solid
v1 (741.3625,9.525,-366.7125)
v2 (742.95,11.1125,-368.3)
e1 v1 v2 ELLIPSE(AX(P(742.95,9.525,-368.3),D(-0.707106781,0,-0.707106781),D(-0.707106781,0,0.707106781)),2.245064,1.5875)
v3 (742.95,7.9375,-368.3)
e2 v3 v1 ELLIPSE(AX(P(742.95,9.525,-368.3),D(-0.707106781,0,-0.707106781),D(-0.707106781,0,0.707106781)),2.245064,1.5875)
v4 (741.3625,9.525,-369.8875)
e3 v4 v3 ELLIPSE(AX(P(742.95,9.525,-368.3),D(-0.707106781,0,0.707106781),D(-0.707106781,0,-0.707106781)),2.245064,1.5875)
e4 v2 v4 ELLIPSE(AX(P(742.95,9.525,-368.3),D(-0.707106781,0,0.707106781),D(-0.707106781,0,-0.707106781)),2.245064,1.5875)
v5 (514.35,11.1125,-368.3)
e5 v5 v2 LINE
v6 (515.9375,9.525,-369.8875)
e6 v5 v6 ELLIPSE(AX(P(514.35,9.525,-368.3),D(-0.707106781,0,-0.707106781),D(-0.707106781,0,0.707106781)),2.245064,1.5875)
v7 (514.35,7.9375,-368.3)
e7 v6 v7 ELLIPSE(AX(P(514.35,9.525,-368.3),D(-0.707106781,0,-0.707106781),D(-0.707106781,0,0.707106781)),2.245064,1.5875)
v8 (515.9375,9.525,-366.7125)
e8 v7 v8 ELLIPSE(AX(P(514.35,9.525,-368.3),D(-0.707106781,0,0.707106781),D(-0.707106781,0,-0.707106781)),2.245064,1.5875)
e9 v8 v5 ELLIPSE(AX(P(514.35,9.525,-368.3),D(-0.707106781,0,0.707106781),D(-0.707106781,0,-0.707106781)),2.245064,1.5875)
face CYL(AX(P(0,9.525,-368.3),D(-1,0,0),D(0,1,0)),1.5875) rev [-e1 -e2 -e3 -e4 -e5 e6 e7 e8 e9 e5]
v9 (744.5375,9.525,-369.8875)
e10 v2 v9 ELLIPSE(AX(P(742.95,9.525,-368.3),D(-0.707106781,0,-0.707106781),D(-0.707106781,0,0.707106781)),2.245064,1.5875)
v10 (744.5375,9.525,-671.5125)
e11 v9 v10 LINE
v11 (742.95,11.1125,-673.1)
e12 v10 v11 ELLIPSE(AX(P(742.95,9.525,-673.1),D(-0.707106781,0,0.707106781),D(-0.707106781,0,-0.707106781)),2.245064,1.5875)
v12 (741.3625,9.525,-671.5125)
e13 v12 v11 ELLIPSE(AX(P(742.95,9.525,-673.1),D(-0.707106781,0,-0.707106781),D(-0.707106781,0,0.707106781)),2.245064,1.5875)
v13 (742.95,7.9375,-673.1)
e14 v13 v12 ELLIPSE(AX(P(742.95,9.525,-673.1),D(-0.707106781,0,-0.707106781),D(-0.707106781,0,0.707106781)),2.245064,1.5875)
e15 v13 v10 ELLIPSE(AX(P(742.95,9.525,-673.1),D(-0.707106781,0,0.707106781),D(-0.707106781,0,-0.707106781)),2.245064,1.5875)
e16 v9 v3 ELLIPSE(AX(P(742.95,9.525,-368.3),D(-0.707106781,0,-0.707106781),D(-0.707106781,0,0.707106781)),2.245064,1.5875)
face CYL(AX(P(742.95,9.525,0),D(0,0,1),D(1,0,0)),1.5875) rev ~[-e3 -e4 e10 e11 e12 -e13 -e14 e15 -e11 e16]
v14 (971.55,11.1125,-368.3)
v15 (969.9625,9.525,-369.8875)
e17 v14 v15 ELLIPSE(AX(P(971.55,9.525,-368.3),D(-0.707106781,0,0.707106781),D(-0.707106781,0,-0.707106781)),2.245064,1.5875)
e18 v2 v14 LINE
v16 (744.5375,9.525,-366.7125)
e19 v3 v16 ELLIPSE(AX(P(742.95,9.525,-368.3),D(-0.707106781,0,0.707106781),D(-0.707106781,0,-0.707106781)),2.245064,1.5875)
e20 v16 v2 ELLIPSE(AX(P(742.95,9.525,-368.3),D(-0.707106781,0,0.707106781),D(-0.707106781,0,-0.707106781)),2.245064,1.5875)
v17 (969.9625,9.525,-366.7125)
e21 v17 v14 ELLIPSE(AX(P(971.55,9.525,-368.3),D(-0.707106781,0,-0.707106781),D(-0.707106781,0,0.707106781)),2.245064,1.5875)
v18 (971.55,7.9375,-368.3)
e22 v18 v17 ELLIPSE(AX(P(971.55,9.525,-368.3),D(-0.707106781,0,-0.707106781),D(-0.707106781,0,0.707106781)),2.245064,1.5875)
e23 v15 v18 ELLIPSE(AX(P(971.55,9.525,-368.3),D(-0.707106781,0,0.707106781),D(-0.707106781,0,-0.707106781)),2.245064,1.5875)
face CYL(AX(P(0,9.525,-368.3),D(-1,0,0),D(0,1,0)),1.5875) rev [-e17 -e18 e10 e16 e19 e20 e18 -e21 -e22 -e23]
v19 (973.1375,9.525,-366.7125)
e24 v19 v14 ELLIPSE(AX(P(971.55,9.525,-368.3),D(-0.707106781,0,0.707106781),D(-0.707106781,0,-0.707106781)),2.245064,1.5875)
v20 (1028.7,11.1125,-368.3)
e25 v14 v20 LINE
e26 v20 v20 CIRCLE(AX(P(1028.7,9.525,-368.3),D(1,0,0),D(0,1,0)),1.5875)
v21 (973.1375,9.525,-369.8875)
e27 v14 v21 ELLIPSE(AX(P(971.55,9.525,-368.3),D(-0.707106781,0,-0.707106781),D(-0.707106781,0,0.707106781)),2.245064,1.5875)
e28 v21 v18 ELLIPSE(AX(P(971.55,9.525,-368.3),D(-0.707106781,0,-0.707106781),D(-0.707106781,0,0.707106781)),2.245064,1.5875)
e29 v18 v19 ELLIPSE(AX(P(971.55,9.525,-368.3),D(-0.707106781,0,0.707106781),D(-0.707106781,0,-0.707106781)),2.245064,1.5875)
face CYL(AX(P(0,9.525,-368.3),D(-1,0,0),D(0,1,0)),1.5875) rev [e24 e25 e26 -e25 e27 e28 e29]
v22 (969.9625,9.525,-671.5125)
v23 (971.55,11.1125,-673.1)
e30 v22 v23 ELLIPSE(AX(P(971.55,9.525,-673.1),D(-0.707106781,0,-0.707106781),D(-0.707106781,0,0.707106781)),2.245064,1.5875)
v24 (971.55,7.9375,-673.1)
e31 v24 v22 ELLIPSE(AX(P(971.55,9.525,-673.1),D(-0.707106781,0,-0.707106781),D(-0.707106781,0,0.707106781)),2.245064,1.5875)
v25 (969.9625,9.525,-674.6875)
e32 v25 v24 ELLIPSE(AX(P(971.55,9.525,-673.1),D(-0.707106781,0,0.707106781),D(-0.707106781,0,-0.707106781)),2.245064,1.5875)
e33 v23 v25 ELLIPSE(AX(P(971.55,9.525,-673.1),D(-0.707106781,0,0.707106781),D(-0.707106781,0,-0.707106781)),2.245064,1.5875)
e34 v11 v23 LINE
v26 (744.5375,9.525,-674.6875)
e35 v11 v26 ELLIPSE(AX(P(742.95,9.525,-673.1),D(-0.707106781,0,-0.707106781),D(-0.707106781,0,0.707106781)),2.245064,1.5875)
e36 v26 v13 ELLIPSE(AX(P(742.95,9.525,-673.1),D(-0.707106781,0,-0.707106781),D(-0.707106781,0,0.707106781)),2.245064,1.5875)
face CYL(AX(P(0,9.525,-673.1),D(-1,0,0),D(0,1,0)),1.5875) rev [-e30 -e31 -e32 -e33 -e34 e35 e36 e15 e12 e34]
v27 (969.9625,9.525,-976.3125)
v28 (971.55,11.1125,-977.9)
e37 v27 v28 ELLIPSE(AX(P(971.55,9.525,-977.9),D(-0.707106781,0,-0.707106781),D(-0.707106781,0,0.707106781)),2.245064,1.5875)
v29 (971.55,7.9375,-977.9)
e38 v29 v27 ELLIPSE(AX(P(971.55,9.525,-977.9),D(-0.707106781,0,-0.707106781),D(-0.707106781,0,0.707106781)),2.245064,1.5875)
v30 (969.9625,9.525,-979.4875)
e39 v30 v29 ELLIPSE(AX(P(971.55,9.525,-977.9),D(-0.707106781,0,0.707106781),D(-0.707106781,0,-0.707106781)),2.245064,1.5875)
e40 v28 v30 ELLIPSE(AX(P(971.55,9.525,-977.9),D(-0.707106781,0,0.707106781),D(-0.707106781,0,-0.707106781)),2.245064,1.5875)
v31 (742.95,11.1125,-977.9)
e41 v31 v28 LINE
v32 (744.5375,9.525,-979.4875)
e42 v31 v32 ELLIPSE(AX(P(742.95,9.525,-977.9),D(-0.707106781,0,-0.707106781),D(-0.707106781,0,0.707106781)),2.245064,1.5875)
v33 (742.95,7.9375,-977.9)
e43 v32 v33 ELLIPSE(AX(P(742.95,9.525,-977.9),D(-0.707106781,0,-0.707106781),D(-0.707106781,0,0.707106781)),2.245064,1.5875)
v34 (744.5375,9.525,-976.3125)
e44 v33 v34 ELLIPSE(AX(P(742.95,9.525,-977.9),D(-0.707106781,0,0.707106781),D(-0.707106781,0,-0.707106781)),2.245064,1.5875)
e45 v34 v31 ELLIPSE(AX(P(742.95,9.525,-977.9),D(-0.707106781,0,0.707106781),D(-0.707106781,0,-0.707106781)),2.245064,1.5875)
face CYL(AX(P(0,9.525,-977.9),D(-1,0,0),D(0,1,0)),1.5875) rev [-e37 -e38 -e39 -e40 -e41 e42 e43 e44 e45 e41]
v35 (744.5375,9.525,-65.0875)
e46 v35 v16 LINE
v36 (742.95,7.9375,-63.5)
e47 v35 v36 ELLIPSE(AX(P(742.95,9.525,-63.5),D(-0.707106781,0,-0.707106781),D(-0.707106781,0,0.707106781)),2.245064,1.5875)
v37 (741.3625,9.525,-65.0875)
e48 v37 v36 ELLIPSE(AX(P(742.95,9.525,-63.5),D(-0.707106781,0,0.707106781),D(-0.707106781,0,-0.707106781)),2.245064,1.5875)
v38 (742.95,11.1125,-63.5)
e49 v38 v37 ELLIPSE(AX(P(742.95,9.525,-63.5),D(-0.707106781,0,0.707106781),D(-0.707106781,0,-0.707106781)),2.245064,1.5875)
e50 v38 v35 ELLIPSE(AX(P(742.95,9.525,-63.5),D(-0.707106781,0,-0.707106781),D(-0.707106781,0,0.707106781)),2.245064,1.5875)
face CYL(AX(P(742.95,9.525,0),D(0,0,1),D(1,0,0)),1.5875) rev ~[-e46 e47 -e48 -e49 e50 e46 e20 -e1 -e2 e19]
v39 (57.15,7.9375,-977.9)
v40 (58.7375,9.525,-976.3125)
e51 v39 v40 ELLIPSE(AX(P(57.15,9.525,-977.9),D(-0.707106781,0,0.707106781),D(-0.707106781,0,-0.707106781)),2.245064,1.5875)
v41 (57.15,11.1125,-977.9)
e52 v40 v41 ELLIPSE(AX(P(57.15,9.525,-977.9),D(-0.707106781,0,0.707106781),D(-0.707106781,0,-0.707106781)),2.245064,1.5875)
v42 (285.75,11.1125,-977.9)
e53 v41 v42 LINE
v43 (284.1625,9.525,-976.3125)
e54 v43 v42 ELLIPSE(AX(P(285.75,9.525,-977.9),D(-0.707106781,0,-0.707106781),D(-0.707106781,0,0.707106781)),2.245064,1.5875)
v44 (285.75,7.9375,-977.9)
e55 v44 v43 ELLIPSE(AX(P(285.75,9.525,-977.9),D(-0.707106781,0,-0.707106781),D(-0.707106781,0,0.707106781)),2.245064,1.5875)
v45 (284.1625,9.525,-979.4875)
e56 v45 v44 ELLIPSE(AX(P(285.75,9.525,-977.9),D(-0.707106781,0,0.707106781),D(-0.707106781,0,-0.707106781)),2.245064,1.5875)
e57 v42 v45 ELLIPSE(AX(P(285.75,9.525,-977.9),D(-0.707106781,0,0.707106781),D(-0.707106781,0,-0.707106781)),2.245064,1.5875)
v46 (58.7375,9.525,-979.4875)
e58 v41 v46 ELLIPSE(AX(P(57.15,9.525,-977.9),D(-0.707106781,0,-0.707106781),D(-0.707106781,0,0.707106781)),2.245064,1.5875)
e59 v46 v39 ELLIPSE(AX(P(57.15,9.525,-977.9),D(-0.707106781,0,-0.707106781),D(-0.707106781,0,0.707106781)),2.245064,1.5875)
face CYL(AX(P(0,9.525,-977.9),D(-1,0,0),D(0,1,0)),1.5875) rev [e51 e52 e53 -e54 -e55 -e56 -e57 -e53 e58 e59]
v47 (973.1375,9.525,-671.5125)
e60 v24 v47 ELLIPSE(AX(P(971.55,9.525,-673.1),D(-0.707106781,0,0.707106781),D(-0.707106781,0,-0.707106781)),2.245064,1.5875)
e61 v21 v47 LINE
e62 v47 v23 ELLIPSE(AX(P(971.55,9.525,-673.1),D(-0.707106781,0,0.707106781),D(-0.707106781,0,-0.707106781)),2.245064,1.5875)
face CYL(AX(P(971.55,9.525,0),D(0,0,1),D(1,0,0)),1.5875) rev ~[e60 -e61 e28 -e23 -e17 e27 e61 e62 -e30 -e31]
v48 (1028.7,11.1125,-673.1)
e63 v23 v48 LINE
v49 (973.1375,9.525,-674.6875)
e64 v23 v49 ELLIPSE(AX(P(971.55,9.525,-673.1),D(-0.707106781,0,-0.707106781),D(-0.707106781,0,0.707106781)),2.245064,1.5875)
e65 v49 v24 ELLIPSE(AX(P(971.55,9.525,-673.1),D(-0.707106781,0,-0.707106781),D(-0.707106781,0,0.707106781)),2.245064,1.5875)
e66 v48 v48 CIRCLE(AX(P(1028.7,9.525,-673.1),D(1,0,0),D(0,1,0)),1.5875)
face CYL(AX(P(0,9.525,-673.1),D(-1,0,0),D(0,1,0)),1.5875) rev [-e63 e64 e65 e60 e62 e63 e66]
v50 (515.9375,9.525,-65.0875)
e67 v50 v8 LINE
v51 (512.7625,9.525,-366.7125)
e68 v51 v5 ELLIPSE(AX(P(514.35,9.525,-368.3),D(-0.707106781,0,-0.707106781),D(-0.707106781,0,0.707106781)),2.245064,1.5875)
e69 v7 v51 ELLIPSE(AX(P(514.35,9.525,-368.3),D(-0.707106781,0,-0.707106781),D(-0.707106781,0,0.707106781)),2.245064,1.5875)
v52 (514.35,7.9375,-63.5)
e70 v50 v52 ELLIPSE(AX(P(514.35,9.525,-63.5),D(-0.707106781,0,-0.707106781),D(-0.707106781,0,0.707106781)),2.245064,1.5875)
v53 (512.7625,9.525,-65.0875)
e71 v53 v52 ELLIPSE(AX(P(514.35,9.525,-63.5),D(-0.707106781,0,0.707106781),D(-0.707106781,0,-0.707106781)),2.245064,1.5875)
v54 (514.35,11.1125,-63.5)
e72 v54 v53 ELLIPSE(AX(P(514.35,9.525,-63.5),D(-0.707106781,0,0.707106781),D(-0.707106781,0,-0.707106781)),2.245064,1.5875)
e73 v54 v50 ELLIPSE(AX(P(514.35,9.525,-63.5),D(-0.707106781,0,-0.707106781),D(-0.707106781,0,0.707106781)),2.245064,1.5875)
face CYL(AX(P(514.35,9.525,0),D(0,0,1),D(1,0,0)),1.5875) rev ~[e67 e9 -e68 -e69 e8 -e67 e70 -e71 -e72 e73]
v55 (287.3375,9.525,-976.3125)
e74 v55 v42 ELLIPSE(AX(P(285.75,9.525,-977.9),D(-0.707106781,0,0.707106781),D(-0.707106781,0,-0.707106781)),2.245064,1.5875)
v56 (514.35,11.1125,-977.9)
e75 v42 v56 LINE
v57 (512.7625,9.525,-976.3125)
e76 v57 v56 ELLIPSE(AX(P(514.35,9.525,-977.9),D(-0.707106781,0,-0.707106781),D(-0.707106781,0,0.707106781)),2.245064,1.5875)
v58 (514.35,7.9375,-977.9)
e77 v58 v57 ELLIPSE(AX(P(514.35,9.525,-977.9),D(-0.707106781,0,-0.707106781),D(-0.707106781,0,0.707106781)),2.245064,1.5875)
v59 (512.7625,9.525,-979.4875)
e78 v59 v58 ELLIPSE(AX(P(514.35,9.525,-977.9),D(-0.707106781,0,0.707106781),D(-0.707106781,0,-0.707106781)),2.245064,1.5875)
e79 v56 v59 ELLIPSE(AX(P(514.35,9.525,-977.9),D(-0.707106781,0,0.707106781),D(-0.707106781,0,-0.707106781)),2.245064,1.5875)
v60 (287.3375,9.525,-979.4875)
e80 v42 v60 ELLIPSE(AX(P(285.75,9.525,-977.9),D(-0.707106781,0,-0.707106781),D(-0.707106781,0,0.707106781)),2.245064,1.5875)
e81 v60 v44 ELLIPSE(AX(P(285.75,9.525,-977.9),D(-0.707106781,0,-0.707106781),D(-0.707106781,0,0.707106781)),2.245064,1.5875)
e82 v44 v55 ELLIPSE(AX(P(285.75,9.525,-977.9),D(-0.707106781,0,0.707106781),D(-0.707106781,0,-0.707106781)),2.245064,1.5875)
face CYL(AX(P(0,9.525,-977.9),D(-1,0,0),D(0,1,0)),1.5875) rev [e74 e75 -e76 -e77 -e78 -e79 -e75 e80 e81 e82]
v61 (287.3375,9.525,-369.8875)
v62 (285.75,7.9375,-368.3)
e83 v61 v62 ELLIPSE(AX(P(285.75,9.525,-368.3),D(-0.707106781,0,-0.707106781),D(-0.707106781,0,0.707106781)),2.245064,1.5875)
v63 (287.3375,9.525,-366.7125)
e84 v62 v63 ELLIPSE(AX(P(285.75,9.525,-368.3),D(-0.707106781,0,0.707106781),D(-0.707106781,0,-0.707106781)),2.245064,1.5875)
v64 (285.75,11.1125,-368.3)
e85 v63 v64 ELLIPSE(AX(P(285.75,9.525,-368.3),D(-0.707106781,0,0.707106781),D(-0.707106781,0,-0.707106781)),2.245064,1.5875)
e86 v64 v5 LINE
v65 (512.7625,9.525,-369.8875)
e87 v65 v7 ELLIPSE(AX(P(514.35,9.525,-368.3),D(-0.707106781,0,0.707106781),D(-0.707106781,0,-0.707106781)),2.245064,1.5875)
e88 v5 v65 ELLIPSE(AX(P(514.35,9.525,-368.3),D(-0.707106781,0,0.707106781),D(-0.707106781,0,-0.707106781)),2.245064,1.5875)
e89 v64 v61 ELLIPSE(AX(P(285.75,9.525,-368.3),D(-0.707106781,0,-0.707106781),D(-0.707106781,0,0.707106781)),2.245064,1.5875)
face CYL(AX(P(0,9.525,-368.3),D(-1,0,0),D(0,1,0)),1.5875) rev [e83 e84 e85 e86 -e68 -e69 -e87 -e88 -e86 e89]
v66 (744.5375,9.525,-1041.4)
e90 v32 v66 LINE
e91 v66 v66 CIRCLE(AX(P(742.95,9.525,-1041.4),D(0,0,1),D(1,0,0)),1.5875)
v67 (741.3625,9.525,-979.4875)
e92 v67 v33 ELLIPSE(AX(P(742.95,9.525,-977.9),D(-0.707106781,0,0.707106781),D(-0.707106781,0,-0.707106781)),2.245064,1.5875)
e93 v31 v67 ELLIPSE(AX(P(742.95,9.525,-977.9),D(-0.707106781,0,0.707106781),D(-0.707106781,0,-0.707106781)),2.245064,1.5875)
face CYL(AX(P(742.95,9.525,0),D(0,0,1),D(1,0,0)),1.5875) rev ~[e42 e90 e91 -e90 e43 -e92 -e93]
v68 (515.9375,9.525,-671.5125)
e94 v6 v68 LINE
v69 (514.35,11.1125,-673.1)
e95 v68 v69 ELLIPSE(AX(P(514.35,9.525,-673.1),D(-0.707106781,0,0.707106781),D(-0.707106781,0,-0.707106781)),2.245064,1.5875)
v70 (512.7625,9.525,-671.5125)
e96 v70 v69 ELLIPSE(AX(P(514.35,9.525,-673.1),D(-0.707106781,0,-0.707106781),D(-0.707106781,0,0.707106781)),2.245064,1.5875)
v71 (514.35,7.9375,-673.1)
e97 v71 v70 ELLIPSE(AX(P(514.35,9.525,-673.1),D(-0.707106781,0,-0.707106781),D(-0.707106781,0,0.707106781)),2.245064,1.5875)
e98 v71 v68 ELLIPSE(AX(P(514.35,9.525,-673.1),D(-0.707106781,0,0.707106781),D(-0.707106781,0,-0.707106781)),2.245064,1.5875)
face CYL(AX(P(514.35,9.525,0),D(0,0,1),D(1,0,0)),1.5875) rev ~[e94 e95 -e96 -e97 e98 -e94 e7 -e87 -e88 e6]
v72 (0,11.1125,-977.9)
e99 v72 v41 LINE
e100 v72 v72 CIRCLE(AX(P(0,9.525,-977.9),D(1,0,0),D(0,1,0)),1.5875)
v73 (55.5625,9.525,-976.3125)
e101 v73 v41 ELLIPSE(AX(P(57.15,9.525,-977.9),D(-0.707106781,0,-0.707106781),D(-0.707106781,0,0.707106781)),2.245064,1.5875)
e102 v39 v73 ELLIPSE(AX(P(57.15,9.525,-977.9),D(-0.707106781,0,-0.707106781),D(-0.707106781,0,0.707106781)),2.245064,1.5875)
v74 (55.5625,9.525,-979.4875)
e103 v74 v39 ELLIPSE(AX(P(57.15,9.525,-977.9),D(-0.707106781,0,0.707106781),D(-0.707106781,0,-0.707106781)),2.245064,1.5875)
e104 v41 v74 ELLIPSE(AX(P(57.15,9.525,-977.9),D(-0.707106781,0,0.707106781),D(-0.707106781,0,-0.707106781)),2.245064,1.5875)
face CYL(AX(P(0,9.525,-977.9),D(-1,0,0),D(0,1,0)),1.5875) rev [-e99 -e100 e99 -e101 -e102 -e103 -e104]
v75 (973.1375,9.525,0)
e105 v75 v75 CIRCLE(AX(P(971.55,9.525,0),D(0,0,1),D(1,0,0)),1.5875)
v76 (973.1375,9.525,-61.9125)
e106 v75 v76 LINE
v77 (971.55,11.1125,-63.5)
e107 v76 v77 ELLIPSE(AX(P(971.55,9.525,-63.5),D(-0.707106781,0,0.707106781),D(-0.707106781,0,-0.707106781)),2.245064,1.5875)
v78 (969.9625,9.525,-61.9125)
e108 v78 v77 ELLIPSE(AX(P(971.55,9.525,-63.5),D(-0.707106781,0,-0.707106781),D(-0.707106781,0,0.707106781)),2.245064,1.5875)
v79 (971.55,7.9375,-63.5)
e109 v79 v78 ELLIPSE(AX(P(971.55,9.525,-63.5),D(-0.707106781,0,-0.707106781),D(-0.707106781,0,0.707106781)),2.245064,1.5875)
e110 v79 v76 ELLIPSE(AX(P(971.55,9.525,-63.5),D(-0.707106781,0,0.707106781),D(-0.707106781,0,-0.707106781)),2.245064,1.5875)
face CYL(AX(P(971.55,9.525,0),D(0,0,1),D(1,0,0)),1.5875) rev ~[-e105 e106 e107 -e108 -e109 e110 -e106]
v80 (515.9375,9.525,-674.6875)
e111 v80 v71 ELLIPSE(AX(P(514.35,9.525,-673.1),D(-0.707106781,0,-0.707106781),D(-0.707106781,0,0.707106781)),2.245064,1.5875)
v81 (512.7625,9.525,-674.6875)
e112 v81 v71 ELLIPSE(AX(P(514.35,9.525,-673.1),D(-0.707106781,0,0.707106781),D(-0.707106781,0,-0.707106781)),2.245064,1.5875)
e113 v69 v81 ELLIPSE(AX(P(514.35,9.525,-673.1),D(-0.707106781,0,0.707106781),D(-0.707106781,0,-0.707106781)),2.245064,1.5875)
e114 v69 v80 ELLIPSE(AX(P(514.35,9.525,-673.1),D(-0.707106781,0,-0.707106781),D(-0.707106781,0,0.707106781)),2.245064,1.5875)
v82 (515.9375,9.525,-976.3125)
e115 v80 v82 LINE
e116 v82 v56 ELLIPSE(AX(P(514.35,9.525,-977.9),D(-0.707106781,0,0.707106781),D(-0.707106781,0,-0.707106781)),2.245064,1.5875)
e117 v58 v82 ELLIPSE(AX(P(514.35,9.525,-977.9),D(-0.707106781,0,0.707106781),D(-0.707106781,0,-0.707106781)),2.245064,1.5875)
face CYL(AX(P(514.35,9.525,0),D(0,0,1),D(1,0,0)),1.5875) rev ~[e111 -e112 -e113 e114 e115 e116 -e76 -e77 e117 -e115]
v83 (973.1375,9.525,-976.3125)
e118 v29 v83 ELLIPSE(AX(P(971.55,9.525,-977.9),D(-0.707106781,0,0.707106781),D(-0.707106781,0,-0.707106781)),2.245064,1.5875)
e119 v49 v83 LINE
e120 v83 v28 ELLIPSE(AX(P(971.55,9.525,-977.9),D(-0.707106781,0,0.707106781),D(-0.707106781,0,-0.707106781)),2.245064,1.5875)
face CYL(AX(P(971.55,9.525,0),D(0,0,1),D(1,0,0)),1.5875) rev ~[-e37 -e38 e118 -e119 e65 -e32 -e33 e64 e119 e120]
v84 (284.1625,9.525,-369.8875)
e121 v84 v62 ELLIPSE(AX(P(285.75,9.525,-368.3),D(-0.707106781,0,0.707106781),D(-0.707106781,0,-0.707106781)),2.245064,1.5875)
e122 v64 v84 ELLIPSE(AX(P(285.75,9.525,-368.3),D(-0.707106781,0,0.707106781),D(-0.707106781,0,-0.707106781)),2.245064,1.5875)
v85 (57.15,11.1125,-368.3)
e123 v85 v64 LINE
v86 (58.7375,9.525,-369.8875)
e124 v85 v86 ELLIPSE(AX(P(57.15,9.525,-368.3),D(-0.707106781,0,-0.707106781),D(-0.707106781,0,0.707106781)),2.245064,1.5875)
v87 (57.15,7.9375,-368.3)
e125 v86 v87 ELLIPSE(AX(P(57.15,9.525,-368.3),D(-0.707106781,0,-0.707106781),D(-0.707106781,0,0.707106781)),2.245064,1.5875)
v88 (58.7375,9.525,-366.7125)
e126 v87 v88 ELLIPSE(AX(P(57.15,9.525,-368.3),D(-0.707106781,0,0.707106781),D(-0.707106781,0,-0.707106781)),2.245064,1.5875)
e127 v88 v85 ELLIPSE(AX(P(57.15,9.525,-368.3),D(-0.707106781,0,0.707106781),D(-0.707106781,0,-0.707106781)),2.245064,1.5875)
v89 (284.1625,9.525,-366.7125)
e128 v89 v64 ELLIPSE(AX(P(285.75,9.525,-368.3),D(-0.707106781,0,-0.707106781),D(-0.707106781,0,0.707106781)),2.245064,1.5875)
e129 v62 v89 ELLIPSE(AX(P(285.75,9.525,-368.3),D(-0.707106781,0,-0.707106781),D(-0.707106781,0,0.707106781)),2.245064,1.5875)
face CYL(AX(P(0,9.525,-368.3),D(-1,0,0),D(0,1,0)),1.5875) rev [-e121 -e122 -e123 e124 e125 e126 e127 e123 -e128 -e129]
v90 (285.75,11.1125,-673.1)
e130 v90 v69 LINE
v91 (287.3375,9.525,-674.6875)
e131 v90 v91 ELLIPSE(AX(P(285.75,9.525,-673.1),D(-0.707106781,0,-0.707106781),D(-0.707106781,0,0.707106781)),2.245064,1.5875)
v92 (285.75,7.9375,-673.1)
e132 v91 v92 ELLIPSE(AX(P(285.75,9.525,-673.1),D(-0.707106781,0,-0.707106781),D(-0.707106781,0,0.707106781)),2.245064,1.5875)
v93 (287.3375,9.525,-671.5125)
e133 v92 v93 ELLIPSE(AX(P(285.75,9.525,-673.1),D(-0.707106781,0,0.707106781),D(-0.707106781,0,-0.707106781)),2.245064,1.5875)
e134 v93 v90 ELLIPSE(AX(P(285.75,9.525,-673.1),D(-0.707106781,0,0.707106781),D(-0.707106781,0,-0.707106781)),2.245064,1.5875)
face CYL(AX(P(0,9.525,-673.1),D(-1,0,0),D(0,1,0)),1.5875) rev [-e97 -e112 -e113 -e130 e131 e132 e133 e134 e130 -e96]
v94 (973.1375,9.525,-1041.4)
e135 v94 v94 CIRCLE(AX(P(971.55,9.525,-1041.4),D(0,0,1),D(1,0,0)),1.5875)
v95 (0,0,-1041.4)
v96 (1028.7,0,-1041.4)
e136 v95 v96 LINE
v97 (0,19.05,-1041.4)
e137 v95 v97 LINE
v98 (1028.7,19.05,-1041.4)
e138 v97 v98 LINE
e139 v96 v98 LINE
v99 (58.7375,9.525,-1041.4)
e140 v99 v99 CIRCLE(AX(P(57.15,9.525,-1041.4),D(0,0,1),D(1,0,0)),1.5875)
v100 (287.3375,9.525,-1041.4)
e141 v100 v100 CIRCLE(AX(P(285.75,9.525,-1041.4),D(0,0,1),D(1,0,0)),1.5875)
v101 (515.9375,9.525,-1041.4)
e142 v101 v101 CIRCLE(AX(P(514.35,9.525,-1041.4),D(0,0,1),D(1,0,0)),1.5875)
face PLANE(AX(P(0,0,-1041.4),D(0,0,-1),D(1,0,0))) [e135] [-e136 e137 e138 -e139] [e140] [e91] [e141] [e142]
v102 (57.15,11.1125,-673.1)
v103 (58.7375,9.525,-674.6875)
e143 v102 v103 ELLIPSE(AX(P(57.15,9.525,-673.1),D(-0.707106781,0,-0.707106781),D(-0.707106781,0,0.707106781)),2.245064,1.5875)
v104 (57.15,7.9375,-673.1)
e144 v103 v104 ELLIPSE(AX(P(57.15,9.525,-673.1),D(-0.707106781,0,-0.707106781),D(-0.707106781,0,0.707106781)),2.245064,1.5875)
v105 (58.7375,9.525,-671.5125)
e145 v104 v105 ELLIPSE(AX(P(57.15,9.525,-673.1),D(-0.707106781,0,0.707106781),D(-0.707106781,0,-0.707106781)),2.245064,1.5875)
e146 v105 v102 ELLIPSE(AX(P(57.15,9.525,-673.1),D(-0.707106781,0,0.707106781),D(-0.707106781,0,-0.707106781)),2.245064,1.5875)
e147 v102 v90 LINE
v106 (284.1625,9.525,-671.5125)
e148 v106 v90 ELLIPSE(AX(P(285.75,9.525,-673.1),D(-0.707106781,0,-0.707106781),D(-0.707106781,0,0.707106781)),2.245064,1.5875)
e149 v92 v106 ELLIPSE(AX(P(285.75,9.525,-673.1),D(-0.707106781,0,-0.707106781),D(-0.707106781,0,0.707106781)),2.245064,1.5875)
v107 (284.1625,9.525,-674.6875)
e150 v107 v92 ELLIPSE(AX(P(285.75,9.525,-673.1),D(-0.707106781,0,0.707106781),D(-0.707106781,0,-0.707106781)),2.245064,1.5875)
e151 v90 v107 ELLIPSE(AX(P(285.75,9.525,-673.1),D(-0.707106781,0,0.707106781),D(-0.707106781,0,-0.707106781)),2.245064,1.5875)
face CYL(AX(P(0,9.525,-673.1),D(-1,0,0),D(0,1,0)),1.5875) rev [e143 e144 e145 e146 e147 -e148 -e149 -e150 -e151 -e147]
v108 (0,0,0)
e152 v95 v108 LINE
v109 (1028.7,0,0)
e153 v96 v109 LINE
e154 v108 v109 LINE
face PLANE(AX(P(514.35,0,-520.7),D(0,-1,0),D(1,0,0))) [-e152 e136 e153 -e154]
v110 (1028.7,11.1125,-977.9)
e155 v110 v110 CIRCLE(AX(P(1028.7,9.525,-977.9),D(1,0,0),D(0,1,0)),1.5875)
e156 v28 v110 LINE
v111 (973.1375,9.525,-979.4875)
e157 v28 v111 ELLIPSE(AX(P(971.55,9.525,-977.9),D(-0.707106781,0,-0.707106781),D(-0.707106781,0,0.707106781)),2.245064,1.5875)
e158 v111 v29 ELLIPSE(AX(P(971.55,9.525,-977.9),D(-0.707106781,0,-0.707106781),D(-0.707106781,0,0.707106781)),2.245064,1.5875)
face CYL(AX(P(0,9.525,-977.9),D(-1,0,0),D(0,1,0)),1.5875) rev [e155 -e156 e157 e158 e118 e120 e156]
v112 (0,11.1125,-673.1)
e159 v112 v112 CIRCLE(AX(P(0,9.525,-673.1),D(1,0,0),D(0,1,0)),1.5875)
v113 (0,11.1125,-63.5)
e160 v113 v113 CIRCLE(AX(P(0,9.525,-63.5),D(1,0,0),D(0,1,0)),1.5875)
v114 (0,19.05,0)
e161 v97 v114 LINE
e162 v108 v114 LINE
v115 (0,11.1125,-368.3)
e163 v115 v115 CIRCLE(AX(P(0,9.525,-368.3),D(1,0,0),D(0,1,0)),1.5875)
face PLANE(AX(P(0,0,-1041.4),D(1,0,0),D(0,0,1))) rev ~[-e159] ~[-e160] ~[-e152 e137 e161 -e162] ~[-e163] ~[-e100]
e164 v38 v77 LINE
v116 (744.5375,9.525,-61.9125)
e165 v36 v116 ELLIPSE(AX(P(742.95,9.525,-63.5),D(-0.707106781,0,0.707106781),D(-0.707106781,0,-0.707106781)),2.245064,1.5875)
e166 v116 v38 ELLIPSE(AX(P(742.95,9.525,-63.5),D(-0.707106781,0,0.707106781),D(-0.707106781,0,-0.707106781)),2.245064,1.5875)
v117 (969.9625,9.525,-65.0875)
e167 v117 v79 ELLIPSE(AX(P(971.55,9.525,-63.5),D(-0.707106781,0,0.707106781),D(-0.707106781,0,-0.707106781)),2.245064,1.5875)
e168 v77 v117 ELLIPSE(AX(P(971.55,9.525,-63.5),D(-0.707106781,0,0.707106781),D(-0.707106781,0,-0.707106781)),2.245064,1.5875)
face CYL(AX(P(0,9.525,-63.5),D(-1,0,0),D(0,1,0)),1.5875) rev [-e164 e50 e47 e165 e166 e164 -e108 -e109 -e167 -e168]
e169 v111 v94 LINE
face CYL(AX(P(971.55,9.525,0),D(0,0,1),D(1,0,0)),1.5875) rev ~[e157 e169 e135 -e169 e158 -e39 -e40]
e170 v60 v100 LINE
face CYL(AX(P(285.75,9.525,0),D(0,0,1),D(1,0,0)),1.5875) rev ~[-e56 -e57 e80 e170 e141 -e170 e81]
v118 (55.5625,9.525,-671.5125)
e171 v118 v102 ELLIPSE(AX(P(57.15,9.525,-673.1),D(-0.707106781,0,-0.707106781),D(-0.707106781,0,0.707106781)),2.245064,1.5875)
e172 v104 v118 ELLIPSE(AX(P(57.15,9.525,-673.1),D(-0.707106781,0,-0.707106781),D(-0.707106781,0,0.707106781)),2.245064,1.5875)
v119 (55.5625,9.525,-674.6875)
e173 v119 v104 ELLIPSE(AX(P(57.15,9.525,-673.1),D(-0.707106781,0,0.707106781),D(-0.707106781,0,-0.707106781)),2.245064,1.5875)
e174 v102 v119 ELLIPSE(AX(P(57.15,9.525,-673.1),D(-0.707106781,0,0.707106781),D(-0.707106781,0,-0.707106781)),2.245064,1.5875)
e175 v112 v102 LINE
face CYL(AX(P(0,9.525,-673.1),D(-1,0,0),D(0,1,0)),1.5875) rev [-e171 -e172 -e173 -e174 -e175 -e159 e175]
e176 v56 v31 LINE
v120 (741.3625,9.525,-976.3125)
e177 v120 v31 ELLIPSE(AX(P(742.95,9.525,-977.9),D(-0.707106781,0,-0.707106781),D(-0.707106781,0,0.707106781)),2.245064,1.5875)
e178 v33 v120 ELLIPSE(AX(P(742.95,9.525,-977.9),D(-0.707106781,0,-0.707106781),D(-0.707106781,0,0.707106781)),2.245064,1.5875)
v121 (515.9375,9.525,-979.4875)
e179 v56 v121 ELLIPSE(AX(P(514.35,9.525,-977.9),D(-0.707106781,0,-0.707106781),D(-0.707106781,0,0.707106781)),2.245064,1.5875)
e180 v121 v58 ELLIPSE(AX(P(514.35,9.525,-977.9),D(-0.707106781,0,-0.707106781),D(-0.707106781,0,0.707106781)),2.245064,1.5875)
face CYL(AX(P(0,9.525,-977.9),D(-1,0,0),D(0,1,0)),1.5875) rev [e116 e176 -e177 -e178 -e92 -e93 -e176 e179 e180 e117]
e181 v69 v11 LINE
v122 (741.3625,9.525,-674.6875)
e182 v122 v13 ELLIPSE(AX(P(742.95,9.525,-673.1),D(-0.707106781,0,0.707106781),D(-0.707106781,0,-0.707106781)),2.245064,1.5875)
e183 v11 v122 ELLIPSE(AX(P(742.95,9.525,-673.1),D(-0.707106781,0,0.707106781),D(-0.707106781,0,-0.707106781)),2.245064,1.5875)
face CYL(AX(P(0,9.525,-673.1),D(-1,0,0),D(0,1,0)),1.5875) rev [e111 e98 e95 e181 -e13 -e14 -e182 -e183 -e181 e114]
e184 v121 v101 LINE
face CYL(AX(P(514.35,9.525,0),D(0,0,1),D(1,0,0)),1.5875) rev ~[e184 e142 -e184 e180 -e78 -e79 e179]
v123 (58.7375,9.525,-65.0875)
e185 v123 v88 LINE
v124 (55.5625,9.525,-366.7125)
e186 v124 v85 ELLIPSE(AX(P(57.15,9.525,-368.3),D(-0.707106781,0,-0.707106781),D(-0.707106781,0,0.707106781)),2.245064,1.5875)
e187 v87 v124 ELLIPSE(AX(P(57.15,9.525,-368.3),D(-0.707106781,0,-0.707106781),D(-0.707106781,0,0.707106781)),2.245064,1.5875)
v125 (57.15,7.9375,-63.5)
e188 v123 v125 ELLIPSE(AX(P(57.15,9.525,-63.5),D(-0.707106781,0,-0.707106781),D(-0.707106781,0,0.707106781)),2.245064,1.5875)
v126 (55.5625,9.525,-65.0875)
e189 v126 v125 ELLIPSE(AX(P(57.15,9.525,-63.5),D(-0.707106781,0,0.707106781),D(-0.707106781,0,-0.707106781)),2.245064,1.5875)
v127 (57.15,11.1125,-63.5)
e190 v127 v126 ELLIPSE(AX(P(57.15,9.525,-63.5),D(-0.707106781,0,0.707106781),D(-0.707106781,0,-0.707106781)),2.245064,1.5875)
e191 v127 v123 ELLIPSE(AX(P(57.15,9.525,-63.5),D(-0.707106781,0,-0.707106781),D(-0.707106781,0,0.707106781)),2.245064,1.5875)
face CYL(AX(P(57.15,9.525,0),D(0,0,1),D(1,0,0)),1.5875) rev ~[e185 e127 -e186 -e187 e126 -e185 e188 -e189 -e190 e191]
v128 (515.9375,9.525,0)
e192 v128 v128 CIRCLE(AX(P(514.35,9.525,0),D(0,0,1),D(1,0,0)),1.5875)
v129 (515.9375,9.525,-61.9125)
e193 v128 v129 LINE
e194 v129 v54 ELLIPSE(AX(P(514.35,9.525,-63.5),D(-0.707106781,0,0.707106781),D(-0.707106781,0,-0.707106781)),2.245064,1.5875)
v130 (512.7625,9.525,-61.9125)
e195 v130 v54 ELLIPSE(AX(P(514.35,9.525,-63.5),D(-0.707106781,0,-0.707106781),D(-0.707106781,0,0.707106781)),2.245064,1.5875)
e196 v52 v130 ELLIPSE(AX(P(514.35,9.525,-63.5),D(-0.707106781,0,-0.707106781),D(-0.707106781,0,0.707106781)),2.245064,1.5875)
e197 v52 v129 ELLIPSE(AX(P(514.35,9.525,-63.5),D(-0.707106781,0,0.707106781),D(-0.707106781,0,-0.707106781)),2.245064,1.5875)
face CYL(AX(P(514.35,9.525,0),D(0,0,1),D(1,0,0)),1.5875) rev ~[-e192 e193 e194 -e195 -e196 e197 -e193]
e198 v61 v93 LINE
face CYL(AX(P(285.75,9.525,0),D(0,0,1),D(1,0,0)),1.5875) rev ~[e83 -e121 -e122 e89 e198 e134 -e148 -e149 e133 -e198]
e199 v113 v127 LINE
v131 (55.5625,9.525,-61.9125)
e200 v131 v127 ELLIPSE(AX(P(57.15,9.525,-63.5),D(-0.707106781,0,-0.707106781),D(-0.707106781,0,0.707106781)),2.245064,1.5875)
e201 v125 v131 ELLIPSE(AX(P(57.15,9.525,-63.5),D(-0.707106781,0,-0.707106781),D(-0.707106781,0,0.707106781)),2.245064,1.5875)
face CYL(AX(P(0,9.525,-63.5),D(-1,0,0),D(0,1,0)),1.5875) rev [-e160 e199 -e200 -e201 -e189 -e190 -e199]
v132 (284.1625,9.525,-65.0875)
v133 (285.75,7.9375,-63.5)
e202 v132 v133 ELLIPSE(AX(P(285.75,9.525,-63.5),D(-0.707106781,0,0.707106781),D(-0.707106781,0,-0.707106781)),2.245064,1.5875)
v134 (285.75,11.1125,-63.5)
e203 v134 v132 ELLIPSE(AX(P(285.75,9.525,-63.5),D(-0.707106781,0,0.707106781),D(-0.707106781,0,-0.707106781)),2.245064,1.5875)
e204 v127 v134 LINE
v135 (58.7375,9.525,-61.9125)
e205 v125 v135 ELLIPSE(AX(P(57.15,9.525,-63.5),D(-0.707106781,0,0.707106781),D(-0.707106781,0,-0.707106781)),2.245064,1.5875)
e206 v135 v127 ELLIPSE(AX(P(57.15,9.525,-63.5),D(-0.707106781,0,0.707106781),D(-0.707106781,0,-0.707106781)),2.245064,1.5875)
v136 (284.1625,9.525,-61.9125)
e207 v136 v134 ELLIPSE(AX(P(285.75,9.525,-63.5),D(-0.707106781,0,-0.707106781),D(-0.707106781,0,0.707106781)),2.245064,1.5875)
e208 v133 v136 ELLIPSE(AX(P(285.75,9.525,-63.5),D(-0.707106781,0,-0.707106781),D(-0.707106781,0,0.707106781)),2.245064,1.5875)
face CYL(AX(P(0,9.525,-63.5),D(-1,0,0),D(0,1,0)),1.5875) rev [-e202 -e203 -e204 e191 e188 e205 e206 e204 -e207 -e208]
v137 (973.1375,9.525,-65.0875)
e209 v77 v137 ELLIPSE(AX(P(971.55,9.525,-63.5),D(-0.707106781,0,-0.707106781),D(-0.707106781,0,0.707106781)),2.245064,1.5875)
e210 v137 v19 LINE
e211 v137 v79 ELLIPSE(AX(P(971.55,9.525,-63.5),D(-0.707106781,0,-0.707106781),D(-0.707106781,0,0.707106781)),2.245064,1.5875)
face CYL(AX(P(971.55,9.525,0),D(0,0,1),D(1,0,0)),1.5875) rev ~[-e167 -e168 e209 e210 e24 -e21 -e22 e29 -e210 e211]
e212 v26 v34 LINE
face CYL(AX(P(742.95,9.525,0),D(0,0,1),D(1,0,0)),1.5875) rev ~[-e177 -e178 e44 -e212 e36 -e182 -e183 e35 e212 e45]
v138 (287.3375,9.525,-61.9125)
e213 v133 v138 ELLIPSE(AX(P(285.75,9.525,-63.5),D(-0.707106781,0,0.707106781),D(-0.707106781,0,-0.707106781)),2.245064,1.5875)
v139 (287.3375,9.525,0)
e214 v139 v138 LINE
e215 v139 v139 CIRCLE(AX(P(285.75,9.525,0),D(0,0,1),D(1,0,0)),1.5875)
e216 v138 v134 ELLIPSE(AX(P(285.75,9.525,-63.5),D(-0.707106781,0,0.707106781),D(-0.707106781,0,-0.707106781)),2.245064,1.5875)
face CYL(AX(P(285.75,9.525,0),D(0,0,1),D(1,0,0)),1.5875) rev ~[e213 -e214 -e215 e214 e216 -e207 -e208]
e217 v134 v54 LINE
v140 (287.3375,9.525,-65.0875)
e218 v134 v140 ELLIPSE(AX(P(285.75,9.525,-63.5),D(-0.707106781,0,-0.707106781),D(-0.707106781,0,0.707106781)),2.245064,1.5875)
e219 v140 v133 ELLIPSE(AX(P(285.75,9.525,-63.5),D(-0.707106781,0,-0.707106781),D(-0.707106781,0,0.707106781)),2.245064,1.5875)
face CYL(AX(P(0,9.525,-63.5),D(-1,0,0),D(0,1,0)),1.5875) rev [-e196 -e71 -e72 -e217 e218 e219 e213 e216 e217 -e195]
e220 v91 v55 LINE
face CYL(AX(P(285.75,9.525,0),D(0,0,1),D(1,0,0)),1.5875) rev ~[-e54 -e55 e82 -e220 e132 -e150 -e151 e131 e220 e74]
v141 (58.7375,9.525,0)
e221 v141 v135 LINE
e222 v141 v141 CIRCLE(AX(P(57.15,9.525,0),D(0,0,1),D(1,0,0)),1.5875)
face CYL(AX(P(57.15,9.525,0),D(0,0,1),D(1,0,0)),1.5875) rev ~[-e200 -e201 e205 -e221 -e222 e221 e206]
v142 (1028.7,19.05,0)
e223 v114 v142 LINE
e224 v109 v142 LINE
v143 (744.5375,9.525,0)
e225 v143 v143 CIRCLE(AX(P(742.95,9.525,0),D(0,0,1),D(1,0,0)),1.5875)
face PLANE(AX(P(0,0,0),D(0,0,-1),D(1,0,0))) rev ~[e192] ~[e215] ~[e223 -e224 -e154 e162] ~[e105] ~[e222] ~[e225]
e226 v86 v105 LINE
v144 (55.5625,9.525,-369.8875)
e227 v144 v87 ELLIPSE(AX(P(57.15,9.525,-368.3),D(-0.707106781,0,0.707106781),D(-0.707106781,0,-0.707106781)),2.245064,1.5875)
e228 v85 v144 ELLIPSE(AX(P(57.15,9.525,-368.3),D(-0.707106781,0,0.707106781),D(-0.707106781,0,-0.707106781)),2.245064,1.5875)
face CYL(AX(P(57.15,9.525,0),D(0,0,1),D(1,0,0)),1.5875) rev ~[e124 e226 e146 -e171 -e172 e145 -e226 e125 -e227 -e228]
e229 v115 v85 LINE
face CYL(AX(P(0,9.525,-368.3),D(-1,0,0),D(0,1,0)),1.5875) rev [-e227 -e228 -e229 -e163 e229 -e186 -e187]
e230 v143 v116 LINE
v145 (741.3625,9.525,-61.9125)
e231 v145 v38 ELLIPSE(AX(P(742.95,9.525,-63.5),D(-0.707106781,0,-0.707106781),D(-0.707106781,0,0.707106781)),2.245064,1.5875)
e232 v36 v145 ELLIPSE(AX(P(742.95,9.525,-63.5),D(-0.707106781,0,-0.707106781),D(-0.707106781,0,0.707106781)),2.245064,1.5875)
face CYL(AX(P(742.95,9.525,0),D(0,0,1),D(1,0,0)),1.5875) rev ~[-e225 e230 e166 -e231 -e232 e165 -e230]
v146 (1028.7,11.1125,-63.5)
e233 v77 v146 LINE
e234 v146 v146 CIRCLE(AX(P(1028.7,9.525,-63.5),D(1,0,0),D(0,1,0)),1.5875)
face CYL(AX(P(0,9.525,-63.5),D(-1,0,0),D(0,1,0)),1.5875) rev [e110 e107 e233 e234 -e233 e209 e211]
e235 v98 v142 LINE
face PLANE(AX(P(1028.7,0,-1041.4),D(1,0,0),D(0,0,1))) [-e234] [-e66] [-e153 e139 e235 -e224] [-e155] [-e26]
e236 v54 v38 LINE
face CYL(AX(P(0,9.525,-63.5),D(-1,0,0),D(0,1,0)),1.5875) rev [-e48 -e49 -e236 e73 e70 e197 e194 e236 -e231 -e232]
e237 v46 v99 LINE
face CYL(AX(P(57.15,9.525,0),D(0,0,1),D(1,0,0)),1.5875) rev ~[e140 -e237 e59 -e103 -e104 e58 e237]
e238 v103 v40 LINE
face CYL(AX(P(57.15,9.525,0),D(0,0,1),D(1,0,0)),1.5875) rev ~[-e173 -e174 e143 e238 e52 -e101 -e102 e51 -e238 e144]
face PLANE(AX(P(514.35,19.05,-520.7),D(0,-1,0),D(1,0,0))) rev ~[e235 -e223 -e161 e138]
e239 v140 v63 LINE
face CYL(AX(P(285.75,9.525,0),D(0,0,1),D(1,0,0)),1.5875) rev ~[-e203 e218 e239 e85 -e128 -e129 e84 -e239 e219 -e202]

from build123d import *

# Parameters (mm, degrees)
F0_W     = 1028.7
F0_H     = 1041.4
F1_DEPTH = 19.05
F2_R     = 1.5875
F3_DEPTH = 1028.7
F4_R     = 1.5875
F5_DEPTH = 1041.401


with BuildPart() as f1:
    # F0 (on Front) → F1 (new body)
    with BuildSketch(Plane.XZ):
        with Locations((514.35, -520.7)):
            Rectangle(F0_W, F0_H)
    extrude(amount=-F1_DEPTH)

    # F2 (on Right) → F3 (cut)
    with BuildSketch(Plane.YZ):
        with Locations((9.525, -63.5)):
            Circle(F2_R)
        with Locations((9.525, -368.3)):
            Circle(F2_R)
        with Locations((9.525, -673.1)):
            Circle(F2_R)
        with Locations((9.525, -977.9)):
            Circle(F2_R)
    extrude(amount=F3_DEPTH, mode=Mode.SUBTRACT)

    # F4 (on Top) → F5 (cut, through all)
    with BuildSketch(Plane.XY):
        with Locations((57.15, 9.525)):
            Circle(F4_R)
        with Locations((285.75, 9.525)):
            Circle(F4_R)
        with Locations((514.35, 9.525)):
            Circle(F4_R)
        with Locations((742.95, 9.525)):
            Circle(F4_R)
        with Locations((971.55, 9.525)):
            Circle(F4_R)
    extrude(amount=-F5_DEPTH, mode=Mode.SUBTRACT)


solid = f1.part
